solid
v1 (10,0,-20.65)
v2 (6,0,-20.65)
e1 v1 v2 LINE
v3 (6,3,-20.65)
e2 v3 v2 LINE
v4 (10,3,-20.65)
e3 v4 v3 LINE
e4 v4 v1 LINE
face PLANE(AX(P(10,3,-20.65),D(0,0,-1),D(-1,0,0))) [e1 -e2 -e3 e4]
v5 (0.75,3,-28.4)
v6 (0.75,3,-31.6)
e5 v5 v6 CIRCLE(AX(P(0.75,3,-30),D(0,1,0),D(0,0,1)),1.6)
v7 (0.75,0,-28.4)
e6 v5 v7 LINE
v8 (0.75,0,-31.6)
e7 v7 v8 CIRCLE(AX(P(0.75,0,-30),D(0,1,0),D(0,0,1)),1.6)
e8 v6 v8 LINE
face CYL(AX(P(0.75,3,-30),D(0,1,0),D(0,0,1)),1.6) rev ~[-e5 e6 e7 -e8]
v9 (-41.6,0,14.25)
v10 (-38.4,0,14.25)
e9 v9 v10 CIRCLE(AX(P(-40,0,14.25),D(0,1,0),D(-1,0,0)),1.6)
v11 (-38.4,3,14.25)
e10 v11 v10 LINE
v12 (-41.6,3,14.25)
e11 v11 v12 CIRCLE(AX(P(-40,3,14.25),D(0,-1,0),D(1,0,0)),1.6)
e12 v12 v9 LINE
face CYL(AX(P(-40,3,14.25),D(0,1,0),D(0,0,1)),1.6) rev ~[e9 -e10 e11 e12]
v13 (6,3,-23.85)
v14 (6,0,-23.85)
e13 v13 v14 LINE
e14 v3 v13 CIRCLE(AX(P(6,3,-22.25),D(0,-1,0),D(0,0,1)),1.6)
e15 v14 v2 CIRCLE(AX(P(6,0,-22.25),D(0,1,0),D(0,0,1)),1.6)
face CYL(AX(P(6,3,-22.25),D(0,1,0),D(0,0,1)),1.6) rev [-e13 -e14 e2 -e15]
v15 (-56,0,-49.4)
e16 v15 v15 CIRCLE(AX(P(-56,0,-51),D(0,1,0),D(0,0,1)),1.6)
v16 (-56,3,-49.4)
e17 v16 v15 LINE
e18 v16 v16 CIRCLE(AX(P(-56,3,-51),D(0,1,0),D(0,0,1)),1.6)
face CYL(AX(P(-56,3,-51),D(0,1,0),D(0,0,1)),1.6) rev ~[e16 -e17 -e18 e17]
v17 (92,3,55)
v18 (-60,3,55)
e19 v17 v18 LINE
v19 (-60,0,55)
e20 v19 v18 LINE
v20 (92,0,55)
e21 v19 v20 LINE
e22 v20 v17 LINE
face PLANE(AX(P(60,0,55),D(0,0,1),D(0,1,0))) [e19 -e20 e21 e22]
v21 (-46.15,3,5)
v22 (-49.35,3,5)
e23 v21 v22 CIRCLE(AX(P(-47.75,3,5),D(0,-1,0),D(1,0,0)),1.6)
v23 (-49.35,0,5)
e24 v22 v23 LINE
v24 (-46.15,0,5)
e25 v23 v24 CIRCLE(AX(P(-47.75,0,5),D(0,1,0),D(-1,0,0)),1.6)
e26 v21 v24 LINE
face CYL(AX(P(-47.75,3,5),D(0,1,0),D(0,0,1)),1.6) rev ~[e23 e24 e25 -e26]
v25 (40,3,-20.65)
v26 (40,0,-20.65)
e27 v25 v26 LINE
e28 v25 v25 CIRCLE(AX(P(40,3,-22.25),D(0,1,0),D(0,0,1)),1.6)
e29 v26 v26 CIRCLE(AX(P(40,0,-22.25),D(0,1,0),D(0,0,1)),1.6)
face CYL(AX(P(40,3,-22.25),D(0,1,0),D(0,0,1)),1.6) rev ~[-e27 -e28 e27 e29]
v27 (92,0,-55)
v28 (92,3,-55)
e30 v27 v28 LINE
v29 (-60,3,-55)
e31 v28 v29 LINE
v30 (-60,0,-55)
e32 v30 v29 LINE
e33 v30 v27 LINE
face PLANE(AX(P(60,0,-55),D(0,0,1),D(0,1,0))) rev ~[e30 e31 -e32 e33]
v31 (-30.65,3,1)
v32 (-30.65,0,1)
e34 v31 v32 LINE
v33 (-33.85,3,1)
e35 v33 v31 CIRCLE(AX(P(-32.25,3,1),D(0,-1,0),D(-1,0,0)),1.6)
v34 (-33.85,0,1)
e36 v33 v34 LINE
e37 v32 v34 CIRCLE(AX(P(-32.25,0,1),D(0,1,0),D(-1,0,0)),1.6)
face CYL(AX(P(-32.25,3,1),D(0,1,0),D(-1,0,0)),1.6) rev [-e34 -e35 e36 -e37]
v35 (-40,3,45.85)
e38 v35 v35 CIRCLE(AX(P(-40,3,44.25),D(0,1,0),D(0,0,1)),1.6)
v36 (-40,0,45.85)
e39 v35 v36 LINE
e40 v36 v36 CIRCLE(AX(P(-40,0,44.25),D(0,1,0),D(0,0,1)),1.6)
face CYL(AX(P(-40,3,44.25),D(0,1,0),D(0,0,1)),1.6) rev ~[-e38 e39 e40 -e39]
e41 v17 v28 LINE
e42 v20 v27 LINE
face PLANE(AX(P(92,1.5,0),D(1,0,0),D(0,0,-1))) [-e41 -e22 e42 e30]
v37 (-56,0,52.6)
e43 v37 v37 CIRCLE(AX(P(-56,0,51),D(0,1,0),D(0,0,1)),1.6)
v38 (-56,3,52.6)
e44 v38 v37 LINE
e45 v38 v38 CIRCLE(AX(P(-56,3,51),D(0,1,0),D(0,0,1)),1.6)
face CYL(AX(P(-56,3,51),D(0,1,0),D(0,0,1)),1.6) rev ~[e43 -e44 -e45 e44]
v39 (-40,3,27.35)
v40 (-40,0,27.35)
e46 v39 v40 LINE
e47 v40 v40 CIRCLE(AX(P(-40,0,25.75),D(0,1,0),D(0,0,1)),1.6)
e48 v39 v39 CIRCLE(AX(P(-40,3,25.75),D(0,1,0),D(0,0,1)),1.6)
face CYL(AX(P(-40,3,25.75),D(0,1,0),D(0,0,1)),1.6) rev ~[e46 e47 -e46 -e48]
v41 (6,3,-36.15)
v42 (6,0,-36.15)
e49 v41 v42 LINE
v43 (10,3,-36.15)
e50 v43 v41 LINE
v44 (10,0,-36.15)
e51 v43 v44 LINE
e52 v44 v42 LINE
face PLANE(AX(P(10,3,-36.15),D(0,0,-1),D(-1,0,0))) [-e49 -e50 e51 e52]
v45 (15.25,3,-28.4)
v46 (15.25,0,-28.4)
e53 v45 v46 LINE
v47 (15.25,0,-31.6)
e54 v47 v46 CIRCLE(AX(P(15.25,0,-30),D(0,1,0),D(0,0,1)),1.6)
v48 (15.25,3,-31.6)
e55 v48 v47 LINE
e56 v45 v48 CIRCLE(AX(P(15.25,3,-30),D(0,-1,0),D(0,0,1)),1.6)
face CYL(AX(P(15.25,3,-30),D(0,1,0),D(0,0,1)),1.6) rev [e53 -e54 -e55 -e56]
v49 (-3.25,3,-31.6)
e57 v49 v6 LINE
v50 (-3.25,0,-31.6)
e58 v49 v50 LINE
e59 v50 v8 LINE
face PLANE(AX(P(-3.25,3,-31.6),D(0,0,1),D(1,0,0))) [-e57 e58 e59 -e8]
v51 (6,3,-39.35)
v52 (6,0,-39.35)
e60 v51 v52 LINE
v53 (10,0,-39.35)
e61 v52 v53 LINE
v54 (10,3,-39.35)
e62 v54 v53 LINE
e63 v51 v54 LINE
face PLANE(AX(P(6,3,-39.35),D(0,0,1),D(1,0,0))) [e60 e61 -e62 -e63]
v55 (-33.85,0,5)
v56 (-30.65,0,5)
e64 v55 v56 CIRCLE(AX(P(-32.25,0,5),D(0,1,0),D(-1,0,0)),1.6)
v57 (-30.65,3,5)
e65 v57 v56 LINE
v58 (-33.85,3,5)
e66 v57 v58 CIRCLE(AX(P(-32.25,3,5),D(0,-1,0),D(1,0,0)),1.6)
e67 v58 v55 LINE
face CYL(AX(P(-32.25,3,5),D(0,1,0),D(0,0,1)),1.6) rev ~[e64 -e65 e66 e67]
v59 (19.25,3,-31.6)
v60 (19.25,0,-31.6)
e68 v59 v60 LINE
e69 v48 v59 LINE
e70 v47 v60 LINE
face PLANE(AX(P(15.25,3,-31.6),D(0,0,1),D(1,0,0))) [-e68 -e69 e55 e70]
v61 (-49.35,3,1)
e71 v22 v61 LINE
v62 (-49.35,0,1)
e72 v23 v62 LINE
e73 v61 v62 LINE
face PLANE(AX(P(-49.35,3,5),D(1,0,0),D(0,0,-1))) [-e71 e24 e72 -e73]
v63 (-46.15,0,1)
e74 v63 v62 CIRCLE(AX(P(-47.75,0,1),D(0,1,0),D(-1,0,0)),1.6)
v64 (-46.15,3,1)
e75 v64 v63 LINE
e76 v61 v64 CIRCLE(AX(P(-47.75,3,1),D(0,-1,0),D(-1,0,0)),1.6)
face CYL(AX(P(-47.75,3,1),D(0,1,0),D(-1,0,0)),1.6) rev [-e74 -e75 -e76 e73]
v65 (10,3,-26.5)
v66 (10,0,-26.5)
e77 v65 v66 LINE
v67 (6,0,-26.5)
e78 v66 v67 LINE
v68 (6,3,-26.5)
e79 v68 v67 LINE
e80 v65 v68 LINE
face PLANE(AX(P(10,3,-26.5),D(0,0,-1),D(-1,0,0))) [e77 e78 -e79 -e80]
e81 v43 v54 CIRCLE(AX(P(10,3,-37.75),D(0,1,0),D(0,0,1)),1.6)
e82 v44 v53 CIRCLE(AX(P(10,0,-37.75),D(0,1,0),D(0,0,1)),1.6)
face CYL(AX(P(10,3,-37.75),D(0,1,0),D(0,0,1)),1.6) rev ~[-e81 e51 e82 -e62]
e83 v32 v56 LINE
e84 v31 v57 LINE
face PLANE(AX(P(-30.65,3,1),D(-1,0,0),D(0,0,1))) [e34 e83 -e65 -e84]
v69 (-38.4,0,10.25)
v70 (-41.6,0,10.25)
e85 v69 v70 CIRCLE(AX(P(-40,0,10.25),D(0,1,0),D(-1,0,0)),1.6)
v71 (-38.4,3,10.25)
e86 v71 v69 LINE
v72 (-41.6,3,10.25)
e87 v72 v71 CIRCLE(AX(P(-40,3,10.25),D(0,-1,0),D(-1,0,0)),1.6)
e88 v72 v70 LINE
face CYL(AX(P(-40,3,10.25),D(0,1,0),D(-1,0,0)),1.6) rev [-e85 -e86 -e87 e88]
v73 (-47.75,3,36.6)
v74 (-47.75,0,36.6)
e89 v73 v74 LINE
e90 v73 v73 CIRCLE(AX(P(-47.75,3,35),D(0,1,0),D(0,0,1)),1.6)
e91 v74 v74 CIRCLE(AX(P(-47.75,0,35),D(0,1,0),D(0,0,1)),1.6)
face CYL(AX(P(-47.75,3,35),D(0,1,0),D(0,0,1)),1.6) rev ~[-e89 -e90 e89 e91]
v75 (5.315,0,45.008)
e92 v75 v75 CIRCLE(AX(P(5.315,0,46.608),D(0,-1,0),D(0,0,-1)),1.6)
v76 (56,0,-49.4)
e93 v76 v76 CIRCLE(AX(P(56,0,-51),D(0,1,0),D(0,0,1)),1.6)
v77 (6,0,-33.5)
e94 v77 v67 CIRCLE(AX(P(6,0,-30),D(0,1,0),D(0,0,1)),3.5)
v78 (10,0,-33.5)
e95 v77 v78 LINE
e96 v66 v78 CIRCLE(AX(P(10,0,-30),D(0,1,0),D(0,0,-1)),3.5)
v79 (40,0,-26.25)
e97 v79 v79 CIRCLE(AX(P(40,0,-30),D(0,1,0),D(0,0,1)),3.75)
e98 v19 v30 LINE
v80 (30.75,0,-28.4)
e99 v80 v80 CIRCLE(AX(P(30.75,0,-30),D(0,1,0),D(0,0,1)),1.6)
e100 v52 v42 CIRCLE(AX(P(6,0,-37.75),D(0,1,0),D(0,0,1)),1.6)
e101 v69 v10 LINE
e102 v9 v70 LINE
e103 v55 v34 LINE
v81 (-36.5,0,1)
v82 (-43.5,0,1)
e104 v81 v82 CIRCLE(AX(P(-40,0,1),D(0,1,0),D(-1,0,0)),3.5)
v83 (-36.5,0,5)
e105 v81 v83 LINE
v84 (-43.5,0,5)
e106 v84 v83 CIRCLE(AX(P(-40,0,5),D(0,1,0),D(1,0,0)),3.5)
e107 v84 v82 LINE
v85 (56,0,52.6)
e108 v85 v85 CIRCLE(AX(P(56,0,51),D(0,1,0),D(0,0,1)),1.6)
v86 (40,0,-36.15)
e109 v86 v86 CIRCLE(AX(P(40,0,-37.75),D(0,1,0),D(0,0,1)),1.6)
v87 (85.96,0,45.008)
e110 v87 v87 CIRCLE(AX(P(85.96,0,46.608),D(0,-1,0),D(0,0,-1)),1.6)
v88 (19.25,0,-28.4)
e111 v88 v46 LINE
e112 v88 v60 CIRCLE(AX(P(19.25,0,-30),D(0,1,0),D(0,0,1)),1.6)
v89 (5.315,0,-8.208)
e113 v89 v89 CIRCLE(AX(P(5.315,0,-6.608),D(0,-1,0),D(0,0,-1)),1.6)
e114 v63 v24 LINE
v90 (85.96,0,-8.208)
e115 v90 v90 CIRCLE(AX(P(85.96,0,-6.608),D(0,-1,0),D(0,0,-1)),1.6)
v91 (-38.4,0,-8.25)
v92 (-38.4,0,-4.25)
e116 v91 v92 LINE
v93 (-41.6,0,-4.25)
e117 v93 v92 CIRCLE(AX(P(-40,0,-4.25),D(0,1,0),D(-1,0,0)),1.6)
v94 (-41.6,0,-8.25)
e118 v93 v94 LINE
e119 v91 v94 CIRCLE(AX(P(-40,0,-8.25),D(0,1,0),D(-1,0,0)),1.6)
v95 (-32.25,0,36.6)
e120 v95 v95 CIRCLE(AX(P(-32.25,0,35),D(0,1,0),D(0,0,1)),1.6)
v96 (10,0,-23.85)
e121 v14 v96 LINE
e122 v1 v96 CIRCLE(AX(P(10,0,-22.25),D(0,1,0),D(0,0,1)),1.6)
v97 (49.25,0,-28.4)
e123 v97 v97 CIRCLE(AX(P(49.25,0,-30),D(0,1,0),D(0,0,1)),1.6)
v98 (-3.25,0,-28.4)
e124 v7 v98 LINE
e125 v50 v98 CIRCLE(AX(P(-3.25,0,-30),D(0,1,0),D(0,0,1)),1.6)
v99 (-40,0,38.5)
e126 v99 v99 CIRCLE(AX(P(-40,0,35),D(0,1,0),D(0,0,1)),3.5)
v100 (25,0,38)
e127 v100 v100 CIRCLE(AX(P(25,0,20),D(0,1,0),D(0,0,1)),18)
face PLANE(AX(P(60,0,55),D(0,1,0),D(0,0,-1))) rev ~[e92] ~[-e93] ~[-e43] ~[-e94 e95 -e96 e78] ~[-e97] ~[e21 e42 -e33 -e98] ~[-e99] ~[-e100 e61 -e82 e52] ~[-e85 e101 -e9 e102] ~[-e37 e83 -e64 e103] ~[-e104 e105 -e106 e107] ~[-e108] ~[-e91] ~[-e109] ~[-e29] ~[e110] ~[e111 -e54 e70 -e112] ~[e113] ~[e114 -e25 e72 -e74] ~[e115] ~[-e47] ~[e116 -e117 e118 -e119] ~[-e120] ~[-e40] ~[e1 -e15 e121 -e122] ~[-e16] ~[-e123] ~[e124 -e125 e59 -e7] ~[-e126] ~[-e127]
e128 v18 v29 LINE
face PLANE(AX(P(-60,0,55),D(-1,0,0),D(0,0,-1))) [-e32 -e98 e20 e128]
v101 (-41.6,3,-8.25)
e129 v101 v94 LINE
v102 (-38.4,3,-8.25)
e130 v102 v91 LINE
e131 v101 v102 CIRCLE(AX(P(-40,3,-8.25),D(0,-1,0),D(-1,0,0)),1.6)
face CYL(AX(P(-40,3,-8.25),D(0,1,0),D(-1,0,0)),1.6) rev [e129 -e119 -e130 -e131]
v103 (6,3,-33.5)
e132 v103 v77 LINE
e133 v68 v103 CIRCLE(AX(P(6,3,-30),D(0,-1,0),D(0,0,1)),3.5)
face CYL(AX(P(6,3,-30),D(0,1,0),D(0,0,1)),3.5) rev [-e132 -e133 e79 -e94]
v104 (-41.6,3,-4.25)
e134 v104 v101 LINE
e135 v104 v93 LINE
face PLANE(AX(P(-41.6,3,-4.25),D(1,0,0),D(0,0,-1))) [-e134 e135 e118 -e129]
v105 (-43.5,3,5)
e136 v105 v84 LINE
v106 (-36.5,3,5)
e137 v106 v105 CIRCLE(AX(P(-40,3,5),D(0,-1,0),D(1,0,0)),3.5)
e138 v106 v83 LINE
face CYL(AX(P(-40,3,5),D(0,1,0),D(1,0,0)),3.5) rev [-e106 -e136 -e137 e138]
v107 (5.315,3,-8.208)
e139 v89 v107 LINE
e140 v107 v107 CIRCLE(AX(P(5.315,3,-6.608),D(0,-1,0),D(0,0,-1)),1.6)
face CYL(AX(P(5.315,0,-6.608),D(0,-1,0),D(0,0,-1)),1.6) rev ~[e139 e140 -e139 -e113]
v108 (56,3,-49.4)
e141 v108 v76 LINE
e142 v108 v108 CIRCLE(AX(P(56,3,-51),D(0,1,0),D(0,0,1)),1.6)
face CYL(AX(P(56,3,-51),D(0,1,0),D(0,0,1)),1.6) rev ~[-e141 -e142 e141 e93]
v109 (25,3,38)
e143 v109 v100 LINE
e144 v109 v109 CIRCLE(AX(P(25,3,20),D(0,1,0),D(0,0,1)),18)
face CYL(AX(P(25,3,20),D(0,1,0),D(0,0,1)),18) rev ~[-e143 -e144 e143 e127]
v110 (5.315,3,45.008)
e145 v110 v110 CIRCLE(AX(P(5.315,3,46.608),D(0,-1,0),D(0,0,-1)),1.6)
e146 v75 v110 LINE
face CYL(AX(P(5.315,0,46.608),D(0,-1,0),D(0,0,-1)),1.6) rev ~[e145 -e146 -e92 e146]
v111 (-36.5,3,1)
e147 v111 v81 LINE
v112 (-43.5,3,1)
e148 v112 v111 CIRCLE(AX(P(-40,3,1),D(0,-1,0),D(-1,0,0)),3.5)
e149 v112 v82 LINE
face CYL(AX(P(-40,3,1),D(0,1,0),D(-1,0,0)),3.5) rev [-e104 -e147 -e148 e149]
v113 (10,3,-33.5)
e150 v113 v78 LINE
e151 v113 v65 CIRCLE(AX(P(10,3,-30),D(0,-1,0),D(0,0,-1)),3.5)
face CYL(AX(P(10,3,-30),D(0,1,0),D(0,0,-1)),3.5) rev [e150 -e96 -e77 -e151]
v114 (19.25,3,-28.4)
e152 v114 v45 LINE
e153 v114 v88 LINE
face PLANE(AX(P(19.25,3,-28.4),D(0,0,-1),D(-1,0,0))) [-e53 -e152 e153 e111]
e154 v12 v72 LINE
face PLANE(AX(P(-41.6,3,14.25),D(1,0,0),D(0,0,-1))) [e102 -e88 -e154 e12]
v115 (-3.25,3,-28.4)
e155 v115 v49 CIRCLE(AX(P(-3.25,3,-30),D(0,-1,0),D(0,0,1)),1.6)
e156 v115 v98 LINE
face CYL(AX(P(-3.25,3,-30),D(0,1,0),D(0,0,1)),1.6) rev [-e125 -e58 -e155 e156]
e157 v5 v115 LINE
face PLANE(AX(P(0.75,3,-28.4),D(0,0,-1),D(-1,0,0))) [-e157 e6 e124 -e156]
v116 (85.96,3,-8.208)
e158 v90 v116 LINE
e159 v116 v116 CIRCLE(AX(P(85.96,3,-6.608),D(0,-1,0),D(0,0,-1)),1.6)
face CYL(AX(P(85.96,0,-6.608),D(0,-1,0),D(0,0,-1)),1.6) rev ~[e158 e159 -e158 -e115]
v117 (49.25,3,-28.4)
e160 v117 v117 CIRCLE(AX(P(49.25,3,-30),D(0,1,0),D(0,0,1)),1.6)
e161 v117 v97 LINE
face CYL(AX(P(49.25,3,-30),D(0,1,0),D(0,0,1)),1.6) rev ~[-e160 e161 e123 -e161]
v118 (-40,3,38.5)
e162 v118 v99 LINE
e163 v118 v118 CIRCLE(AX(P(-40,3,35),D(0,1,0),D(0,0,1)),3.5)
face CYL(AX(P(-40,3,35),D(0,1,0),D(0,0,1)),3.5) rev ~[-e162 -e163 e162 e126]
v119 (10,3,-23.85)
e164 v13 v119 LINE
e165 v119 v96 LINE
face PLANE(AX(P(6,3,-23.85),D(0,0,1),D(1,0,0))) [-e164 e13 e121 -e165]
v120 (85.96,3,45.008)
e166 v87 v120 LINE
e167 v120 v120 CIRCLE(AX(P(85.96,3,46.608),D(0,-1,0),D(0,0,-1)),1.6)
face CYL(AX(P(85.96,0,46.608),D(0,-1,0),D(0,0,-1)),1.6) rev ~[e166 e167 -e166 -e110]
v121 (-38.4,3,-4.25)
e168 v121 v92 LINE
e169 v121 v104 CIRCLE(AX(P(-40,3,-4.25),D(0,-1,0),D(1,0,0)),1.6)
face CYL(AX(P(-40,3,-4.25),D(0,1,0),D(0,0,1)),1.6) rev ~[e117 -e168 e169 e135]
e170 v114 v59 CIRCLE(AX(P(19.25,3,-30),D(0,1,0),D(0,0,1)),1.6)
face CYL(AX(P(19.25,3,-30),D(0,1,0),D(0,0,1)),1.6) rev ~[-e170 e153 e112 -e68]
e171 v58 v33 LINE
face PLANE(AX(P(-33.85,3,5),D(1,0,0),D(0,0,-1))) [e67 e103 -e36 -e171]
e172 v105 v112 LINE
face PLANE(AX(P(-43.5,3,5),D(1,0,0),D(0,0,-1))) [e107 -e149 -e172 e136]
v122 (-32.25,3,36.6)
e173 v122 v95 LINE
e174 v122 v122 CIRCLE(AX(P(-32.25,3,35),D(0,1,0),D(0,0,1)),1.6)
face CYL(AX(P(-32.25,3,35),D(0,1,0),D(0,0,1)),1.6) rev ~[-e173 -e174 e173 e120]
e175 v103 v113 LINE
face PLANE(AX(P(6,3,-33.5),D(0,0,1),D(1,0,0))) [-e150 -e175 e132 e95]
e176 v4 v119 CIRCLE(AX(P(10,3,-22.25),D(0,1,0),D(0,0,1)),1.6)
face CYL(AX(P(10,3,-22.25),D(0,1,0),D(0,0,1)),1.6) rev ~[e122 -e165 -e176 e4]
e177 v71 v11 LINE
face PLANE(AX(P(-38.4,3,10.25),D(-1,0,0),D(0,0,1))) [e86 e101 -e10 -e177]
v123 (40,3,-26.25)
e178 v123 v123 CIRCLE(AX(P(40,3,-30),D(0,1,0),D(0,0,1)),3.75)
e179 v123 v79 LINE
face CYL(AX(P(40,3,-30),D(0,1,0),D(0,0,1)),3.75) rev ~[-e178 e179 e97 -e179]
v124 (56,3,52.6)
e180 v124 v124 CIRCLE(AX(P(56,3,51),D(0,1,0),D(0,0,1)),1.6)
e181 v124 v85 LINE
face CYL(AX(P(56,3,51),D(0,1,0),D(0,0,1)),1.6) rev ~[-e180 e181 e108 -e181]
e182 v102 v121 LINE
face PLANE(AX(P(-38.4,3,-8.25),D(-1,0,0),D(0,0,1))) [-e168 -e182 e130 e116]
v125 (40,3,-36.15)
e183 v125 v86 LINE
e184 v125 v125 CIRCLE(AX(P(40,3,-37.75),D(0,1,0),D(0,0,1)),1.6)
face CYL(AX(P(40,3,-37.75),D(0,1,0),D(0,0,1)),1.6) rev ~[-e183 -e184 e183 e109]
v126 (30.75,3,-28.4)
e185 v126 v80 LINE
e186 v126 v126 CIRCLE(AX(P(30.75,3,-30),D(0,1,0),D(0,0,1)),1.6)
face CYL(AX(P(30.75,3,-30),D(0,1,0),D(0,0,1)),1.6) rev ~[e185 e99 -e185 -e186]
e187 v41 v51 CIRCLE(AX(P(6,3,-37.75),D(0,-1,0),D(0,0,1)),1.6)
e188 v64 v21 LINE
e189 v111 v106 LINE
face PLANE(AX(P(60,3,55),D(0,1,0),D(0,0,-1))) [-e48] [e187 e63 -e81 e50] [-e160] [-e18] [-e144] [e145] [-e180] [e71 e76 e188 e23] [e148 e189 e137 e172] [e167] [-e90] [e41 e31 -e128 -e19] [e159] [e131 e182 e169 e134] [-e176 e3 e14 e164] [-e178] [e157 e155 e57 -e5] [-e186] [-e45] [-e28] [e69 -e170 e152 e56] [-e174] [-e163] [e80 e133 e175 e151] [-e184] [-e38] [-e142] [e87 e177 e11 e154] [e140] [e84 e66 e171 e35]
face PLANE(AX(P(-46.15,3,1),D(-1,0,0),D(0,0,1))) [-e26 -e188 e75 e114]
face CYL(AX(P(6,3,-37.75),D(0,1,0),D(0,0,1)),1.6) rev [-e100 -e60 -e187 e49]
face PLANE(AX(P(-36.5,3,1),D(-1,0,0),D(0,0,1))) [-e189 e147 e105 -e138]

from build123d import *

# Parameters (mm, degrees)
SKETCH1_W           = 120
SKETCH1_H           = 110
BOSS_EXTRUDE1_DEPTH = 3
SKETCH2_R           = 1.6
CUT_EXTRUDE1_DEPTH  = 4
SKETCH3_R           = 18
CUT_EXTRUDE2_DEPTH  = 10
CUT_EXTRUDE3_DEPTH  = 10
SKETCH5_R           = 1.6
CUT_EXTRUDE5_DEPTH  = 10
SKETCH6_R           = 3.5
SKETCH6_R_2         = 3.75
CUT_EXTRUDE6_DEPTH  = 10
SKETCH9_W           = 110
SKETCH9_H           = 3
BOSS_EXTRUDE2_DEPTH = 32
SKETCH8_R           = 1.6
CUT_EXTRUDE8_DEPTH  = 10


with BuildPart() as part:
    # Sketch1 → Boss-Extrude1 (new body)
    with BuildSketch(Plane(origin=(0, 0, 0), x_dir=(1, 0, 0), z_dir=(0, 1, 0))):
        Rectangle(SKETCH1_W, SKETCH1_H)
    extrude(amount=BOSS_EXTRUDE1_DEPTH)

    # Sketch2 → Cut-Extrude1 (cut)
    with BuildSketch(Plane(origin=(0, 3, 0), x_dir=(1, 0, 0), z_dir=(0, 1, 0))):
        with Locations(Location((19.25, 30, 0), (0, 0, 270))):
            Circle(SKETCH2_R)
        with Locations(Location((49.25, 30, 0), (0, 0, 270))):
            Circle(SKETCH2_R)
        with Locations(Location((-40, -14.25, 0), (0, 0, 270))):
            Circle(SKETCH2_R)
        with Locations(Location((-40, -44.25, 0), (0, 0, 270))):
            Circle(SKETCH2_R)
        with Locations(Location((0.75, 30, 0), (0, 0, 270))):
            Circle(SKETCH2_R)
        with Locations(Location((30.75, 30, 0), (0, 0, 270))):
            Circle(SKETCH2_R)
        with Locations(Location((-40, -25.75, 0), (0, 0, 270))):
            Circle(SKETCH2_R)
        with Locations(Location((-40, 4.25, 0), (0, 0, 270))):
            Circle(SKETCH2_R)
        with Locations(Location((-47.75, -5, 0), (0, 0, 270))):
            Circle(SKETCH2_R)
        with Locations(Location((-32.25, -5, 0), (0, 0, 270))):
            Circle(SKETCH2_R)
        with Locations(Location((-47.75, -35, 0), (0, 0, 270))):
            Circle(SKETCH2_R)
        with Locations(Location((-32.25, -35, 0), (0, 0, 270))):
            Circle(SKETCH2_R)
        with Locations(Location((10, 22.25, 0), (0, 0, 270))):
            Circle(SKETCH2_R)
        with Locations(Location((10, 37.75, 0), (0, 0, 270))):
            Circle(SKETCH2_R)
        with Locations(Location((40, 22.25, 0), (0, 0, 270))):
            Circle(SKETCH2_R)
        with Locations(Location((40, 37.75, 0), (0, 0, 270))):
            Circle(SKETCH2_R)
    extrude(amount=-CUT_EXTRUDE1_DEPTH, mode=Mode.SUBTRACT)

    # Sketch3 → Cut-Extrude2 (cut)
    with BuildSketch(Plane(origin=(0, 3, 0), x_dir=(1, 0, 0), z_dir=(0, 1, 0))):
        with Locations(Location((25, -20, 0), (0, 0, 270))):
            Circle(SKETCH3_R)
    extrude(amount=-CUT_EXTRUDE2_DEPTH, mode=Mode.SUBTRACT)

    # Sketch4 → Cut-Extrude3 (cut)
    with BuildSketch(Plane(origin=(0, 3, 0), x_dir=(1, 0, 0), z_dir=(0, 1, 0))):
        with BuildLine():
            Line((-41.6, -14.25), (-41.6, -10.25))
            ThreePointArc((-41.6, -10.25), (-40, -8.65), (-38.4, -10.25))
            Line((-38.4, -10.25), (-38.4, -14.25))
            ThreePointArc((-38.4, -14.25), (-40, -15.85), (-41.6, -14.25))
        make_face()
        with BuildLine():
            Line((-41.6, 4.25), (-41.6, 8.25))
            ThreePointArc((-41.6, 8.25), (-40, 9.85), (-38.4, 8.25))
            Line((-38.4, 8.25), (-38.4, 4.25))
            ThreePointArc((-38.4, 4.25), (-40, 2.65), (-41.6, 4.25))
        make_face()
        with BuildLine():
            Line((19.25, 28.4), (15.25, 28.4))
            ThreePointArc((15.25, 28.4), (13.65, 30), (15.25, 31.6))
            Line((15.25, 31.6), (19.25, 31.6))
            ThreePointArc((19.25, 31.6), (20.85, 30), (19.25, 28.4))
        make_face()
        with BuildLine():
            Line((0.75, 28.4), (-3.25, 28.4))
            ThreePointArc((-3.25, 28.4), (-4.85, 30), (-3.25, 31.6))
            Line((-3.25, 31.6), (0.75, 31.6))
            ThreePointArc((0.75, 31.6), (2.35, 30), (0.75, 28.4))
        make_face()
        with BuildLine():
            Line((-33.85, -5), (-33.85, -1))
            ThreePointArc((-33.85, -1), (-32.25, 0.6), (-30.65, -1))
            Line((-30.65, -1), (-30.65, -5))
            ThreePointArc((-30.65, -5), (-32.25, -6.6), (-33.85, -5))
        make_face()
        with BuildLine():
            Line((-49.35, -5), (-49.35, -1))
            ThreePointArc((-49.35, -1), (-47.75, 0.6), (-46.15, -1))
            Line((-46.15, -1), (-46.15, -5))
            ThreePointArc((-46.15, -5), (-47.75, -6.6), (-49.35, -5))
        make_face()
        with BuildLine():
            Line((10, 20.65), (6, 20.65))
            ThreePointArc((6, 20.65), (4.4, 22.25), (6, 23.85))
            Line((6, 23.85), (10, 23.85))
            ThreePointArc((10, 23.85), (11.6, 22.25), (10, 20.65))
        make_face()
        with BuildLine():
            Line((10, 36.15), (6, 36.15))
            ThreePointArc((6, 36.15), (4.4, 37.75), (6, 39.35))
            Line((6, 39.35), (10, 39.35))
            ThreePointArc((10, 39.35), (11.6, 37.75), (10, 36.15))
        make_face()
    extrude(amount=-CUT_EXTRUDE3_DEPTH, mode=Mode.SUBTRACT)

    # Sketch5 → Cut-Extrude5 (cut)
    with BuildSketch(Plane(origin=(0, 3, 0), x_dir=(1, 0, 0), z_dir=(0, 1, 0))):
        with Locations(Location((-56, 51, 0), (0, 0, 270))):
            Circle(SKETCH5_R)
        with Locations(Location((56, 51, 0), (0, 0, 270))):
            Circle(SKETCH5_R)
        with Locations(Location((56, -51, 0), (0, 0, 270))):
            Circle(SKETCH5_R)
        with Locations(Location((-56, -51, 0), (0, 0, 270))):
            Circle(SKETCH5_R)
    extrude(amount=-CUT_EXTRUDE5_DEPTH, mode=Mode.SUBTRACT)

    # Sketch6 → Cut-Extrude6 (cut)
    with BuildSketch(Plane(origin=(0, 3, 0), x_dir=(1, 0, 0), z_dir=(0, 1, 0))):
        with Locations(Location((-40, -35, 0), (0, 0, 270))):
            Circle(SKETCH6_R)
        with Locations(Location((40, 30, 0), (0, 0, 270))):
            Circle(SKETCH6_R_2)
        with BuildLine():
            Line((-43.5, -5), (-43.5, -1))
            ThreePointArc((-43.5, -1), (-40, 2.5), (-36.5, -1))
            Line((-36.5, -1), (-36.5, -5))
            ThreePointArc((-36.5, -5), (-40, -8.5), (-43.5, -5))
        make_face()
        with BuildLine():
            Line((10, 26.5), (6, 26.5))
            ThreePointArc((6, 26.5), (2.5, 30), (6, 33.5))
            Line((6, 33.5), (10, 33.5))
            ThreePointArc((10, 33.5), (13.5, 30), (10, 26.5))
        make_face()
    extrude(amount=-CUT_EXTRUDE6_DEPTH, mode=Mode.SUBTRACT)

    # Sketch9 → Boss-Extrude2 (add)
    with BuildSketch(Plane(origin=(60, 0, 0), x_dir=(0, 0, -1), z_dir=(1, 0, 0))):
        with Locations((0, 1.5)):
            Rectangle(SKETCH9_W, SKETCH9_H)
    extrude(amount=BOSS_EXTRUDE2_DEPTH)

    # Sketch8 → Cut-Extrude8 (cut)
    with BuildSketch(Plane.XZ):
        with Locations(Location((5.315, -6.608, 0), (0, 0, 270))):
            Circle(SKETCH8_R)
        with Locations(Location((5.315, 46.608, 0), (0, 0, 270))):
            Circle(SKETCH8_R)
        with Locations(Location((85.96, 46.608, 0), (0, 0, 270))):
            Circle(SKETCH8_R)
        with Locations(Location((85.96, -6.608, 0), (0, 0, 270))):
            Circle(SKETCH8_R)
    extrude(amount=-CUT_EXTRUDE8_DEPTH, mode=Mode.SUBTRACT)


solid = part.part
